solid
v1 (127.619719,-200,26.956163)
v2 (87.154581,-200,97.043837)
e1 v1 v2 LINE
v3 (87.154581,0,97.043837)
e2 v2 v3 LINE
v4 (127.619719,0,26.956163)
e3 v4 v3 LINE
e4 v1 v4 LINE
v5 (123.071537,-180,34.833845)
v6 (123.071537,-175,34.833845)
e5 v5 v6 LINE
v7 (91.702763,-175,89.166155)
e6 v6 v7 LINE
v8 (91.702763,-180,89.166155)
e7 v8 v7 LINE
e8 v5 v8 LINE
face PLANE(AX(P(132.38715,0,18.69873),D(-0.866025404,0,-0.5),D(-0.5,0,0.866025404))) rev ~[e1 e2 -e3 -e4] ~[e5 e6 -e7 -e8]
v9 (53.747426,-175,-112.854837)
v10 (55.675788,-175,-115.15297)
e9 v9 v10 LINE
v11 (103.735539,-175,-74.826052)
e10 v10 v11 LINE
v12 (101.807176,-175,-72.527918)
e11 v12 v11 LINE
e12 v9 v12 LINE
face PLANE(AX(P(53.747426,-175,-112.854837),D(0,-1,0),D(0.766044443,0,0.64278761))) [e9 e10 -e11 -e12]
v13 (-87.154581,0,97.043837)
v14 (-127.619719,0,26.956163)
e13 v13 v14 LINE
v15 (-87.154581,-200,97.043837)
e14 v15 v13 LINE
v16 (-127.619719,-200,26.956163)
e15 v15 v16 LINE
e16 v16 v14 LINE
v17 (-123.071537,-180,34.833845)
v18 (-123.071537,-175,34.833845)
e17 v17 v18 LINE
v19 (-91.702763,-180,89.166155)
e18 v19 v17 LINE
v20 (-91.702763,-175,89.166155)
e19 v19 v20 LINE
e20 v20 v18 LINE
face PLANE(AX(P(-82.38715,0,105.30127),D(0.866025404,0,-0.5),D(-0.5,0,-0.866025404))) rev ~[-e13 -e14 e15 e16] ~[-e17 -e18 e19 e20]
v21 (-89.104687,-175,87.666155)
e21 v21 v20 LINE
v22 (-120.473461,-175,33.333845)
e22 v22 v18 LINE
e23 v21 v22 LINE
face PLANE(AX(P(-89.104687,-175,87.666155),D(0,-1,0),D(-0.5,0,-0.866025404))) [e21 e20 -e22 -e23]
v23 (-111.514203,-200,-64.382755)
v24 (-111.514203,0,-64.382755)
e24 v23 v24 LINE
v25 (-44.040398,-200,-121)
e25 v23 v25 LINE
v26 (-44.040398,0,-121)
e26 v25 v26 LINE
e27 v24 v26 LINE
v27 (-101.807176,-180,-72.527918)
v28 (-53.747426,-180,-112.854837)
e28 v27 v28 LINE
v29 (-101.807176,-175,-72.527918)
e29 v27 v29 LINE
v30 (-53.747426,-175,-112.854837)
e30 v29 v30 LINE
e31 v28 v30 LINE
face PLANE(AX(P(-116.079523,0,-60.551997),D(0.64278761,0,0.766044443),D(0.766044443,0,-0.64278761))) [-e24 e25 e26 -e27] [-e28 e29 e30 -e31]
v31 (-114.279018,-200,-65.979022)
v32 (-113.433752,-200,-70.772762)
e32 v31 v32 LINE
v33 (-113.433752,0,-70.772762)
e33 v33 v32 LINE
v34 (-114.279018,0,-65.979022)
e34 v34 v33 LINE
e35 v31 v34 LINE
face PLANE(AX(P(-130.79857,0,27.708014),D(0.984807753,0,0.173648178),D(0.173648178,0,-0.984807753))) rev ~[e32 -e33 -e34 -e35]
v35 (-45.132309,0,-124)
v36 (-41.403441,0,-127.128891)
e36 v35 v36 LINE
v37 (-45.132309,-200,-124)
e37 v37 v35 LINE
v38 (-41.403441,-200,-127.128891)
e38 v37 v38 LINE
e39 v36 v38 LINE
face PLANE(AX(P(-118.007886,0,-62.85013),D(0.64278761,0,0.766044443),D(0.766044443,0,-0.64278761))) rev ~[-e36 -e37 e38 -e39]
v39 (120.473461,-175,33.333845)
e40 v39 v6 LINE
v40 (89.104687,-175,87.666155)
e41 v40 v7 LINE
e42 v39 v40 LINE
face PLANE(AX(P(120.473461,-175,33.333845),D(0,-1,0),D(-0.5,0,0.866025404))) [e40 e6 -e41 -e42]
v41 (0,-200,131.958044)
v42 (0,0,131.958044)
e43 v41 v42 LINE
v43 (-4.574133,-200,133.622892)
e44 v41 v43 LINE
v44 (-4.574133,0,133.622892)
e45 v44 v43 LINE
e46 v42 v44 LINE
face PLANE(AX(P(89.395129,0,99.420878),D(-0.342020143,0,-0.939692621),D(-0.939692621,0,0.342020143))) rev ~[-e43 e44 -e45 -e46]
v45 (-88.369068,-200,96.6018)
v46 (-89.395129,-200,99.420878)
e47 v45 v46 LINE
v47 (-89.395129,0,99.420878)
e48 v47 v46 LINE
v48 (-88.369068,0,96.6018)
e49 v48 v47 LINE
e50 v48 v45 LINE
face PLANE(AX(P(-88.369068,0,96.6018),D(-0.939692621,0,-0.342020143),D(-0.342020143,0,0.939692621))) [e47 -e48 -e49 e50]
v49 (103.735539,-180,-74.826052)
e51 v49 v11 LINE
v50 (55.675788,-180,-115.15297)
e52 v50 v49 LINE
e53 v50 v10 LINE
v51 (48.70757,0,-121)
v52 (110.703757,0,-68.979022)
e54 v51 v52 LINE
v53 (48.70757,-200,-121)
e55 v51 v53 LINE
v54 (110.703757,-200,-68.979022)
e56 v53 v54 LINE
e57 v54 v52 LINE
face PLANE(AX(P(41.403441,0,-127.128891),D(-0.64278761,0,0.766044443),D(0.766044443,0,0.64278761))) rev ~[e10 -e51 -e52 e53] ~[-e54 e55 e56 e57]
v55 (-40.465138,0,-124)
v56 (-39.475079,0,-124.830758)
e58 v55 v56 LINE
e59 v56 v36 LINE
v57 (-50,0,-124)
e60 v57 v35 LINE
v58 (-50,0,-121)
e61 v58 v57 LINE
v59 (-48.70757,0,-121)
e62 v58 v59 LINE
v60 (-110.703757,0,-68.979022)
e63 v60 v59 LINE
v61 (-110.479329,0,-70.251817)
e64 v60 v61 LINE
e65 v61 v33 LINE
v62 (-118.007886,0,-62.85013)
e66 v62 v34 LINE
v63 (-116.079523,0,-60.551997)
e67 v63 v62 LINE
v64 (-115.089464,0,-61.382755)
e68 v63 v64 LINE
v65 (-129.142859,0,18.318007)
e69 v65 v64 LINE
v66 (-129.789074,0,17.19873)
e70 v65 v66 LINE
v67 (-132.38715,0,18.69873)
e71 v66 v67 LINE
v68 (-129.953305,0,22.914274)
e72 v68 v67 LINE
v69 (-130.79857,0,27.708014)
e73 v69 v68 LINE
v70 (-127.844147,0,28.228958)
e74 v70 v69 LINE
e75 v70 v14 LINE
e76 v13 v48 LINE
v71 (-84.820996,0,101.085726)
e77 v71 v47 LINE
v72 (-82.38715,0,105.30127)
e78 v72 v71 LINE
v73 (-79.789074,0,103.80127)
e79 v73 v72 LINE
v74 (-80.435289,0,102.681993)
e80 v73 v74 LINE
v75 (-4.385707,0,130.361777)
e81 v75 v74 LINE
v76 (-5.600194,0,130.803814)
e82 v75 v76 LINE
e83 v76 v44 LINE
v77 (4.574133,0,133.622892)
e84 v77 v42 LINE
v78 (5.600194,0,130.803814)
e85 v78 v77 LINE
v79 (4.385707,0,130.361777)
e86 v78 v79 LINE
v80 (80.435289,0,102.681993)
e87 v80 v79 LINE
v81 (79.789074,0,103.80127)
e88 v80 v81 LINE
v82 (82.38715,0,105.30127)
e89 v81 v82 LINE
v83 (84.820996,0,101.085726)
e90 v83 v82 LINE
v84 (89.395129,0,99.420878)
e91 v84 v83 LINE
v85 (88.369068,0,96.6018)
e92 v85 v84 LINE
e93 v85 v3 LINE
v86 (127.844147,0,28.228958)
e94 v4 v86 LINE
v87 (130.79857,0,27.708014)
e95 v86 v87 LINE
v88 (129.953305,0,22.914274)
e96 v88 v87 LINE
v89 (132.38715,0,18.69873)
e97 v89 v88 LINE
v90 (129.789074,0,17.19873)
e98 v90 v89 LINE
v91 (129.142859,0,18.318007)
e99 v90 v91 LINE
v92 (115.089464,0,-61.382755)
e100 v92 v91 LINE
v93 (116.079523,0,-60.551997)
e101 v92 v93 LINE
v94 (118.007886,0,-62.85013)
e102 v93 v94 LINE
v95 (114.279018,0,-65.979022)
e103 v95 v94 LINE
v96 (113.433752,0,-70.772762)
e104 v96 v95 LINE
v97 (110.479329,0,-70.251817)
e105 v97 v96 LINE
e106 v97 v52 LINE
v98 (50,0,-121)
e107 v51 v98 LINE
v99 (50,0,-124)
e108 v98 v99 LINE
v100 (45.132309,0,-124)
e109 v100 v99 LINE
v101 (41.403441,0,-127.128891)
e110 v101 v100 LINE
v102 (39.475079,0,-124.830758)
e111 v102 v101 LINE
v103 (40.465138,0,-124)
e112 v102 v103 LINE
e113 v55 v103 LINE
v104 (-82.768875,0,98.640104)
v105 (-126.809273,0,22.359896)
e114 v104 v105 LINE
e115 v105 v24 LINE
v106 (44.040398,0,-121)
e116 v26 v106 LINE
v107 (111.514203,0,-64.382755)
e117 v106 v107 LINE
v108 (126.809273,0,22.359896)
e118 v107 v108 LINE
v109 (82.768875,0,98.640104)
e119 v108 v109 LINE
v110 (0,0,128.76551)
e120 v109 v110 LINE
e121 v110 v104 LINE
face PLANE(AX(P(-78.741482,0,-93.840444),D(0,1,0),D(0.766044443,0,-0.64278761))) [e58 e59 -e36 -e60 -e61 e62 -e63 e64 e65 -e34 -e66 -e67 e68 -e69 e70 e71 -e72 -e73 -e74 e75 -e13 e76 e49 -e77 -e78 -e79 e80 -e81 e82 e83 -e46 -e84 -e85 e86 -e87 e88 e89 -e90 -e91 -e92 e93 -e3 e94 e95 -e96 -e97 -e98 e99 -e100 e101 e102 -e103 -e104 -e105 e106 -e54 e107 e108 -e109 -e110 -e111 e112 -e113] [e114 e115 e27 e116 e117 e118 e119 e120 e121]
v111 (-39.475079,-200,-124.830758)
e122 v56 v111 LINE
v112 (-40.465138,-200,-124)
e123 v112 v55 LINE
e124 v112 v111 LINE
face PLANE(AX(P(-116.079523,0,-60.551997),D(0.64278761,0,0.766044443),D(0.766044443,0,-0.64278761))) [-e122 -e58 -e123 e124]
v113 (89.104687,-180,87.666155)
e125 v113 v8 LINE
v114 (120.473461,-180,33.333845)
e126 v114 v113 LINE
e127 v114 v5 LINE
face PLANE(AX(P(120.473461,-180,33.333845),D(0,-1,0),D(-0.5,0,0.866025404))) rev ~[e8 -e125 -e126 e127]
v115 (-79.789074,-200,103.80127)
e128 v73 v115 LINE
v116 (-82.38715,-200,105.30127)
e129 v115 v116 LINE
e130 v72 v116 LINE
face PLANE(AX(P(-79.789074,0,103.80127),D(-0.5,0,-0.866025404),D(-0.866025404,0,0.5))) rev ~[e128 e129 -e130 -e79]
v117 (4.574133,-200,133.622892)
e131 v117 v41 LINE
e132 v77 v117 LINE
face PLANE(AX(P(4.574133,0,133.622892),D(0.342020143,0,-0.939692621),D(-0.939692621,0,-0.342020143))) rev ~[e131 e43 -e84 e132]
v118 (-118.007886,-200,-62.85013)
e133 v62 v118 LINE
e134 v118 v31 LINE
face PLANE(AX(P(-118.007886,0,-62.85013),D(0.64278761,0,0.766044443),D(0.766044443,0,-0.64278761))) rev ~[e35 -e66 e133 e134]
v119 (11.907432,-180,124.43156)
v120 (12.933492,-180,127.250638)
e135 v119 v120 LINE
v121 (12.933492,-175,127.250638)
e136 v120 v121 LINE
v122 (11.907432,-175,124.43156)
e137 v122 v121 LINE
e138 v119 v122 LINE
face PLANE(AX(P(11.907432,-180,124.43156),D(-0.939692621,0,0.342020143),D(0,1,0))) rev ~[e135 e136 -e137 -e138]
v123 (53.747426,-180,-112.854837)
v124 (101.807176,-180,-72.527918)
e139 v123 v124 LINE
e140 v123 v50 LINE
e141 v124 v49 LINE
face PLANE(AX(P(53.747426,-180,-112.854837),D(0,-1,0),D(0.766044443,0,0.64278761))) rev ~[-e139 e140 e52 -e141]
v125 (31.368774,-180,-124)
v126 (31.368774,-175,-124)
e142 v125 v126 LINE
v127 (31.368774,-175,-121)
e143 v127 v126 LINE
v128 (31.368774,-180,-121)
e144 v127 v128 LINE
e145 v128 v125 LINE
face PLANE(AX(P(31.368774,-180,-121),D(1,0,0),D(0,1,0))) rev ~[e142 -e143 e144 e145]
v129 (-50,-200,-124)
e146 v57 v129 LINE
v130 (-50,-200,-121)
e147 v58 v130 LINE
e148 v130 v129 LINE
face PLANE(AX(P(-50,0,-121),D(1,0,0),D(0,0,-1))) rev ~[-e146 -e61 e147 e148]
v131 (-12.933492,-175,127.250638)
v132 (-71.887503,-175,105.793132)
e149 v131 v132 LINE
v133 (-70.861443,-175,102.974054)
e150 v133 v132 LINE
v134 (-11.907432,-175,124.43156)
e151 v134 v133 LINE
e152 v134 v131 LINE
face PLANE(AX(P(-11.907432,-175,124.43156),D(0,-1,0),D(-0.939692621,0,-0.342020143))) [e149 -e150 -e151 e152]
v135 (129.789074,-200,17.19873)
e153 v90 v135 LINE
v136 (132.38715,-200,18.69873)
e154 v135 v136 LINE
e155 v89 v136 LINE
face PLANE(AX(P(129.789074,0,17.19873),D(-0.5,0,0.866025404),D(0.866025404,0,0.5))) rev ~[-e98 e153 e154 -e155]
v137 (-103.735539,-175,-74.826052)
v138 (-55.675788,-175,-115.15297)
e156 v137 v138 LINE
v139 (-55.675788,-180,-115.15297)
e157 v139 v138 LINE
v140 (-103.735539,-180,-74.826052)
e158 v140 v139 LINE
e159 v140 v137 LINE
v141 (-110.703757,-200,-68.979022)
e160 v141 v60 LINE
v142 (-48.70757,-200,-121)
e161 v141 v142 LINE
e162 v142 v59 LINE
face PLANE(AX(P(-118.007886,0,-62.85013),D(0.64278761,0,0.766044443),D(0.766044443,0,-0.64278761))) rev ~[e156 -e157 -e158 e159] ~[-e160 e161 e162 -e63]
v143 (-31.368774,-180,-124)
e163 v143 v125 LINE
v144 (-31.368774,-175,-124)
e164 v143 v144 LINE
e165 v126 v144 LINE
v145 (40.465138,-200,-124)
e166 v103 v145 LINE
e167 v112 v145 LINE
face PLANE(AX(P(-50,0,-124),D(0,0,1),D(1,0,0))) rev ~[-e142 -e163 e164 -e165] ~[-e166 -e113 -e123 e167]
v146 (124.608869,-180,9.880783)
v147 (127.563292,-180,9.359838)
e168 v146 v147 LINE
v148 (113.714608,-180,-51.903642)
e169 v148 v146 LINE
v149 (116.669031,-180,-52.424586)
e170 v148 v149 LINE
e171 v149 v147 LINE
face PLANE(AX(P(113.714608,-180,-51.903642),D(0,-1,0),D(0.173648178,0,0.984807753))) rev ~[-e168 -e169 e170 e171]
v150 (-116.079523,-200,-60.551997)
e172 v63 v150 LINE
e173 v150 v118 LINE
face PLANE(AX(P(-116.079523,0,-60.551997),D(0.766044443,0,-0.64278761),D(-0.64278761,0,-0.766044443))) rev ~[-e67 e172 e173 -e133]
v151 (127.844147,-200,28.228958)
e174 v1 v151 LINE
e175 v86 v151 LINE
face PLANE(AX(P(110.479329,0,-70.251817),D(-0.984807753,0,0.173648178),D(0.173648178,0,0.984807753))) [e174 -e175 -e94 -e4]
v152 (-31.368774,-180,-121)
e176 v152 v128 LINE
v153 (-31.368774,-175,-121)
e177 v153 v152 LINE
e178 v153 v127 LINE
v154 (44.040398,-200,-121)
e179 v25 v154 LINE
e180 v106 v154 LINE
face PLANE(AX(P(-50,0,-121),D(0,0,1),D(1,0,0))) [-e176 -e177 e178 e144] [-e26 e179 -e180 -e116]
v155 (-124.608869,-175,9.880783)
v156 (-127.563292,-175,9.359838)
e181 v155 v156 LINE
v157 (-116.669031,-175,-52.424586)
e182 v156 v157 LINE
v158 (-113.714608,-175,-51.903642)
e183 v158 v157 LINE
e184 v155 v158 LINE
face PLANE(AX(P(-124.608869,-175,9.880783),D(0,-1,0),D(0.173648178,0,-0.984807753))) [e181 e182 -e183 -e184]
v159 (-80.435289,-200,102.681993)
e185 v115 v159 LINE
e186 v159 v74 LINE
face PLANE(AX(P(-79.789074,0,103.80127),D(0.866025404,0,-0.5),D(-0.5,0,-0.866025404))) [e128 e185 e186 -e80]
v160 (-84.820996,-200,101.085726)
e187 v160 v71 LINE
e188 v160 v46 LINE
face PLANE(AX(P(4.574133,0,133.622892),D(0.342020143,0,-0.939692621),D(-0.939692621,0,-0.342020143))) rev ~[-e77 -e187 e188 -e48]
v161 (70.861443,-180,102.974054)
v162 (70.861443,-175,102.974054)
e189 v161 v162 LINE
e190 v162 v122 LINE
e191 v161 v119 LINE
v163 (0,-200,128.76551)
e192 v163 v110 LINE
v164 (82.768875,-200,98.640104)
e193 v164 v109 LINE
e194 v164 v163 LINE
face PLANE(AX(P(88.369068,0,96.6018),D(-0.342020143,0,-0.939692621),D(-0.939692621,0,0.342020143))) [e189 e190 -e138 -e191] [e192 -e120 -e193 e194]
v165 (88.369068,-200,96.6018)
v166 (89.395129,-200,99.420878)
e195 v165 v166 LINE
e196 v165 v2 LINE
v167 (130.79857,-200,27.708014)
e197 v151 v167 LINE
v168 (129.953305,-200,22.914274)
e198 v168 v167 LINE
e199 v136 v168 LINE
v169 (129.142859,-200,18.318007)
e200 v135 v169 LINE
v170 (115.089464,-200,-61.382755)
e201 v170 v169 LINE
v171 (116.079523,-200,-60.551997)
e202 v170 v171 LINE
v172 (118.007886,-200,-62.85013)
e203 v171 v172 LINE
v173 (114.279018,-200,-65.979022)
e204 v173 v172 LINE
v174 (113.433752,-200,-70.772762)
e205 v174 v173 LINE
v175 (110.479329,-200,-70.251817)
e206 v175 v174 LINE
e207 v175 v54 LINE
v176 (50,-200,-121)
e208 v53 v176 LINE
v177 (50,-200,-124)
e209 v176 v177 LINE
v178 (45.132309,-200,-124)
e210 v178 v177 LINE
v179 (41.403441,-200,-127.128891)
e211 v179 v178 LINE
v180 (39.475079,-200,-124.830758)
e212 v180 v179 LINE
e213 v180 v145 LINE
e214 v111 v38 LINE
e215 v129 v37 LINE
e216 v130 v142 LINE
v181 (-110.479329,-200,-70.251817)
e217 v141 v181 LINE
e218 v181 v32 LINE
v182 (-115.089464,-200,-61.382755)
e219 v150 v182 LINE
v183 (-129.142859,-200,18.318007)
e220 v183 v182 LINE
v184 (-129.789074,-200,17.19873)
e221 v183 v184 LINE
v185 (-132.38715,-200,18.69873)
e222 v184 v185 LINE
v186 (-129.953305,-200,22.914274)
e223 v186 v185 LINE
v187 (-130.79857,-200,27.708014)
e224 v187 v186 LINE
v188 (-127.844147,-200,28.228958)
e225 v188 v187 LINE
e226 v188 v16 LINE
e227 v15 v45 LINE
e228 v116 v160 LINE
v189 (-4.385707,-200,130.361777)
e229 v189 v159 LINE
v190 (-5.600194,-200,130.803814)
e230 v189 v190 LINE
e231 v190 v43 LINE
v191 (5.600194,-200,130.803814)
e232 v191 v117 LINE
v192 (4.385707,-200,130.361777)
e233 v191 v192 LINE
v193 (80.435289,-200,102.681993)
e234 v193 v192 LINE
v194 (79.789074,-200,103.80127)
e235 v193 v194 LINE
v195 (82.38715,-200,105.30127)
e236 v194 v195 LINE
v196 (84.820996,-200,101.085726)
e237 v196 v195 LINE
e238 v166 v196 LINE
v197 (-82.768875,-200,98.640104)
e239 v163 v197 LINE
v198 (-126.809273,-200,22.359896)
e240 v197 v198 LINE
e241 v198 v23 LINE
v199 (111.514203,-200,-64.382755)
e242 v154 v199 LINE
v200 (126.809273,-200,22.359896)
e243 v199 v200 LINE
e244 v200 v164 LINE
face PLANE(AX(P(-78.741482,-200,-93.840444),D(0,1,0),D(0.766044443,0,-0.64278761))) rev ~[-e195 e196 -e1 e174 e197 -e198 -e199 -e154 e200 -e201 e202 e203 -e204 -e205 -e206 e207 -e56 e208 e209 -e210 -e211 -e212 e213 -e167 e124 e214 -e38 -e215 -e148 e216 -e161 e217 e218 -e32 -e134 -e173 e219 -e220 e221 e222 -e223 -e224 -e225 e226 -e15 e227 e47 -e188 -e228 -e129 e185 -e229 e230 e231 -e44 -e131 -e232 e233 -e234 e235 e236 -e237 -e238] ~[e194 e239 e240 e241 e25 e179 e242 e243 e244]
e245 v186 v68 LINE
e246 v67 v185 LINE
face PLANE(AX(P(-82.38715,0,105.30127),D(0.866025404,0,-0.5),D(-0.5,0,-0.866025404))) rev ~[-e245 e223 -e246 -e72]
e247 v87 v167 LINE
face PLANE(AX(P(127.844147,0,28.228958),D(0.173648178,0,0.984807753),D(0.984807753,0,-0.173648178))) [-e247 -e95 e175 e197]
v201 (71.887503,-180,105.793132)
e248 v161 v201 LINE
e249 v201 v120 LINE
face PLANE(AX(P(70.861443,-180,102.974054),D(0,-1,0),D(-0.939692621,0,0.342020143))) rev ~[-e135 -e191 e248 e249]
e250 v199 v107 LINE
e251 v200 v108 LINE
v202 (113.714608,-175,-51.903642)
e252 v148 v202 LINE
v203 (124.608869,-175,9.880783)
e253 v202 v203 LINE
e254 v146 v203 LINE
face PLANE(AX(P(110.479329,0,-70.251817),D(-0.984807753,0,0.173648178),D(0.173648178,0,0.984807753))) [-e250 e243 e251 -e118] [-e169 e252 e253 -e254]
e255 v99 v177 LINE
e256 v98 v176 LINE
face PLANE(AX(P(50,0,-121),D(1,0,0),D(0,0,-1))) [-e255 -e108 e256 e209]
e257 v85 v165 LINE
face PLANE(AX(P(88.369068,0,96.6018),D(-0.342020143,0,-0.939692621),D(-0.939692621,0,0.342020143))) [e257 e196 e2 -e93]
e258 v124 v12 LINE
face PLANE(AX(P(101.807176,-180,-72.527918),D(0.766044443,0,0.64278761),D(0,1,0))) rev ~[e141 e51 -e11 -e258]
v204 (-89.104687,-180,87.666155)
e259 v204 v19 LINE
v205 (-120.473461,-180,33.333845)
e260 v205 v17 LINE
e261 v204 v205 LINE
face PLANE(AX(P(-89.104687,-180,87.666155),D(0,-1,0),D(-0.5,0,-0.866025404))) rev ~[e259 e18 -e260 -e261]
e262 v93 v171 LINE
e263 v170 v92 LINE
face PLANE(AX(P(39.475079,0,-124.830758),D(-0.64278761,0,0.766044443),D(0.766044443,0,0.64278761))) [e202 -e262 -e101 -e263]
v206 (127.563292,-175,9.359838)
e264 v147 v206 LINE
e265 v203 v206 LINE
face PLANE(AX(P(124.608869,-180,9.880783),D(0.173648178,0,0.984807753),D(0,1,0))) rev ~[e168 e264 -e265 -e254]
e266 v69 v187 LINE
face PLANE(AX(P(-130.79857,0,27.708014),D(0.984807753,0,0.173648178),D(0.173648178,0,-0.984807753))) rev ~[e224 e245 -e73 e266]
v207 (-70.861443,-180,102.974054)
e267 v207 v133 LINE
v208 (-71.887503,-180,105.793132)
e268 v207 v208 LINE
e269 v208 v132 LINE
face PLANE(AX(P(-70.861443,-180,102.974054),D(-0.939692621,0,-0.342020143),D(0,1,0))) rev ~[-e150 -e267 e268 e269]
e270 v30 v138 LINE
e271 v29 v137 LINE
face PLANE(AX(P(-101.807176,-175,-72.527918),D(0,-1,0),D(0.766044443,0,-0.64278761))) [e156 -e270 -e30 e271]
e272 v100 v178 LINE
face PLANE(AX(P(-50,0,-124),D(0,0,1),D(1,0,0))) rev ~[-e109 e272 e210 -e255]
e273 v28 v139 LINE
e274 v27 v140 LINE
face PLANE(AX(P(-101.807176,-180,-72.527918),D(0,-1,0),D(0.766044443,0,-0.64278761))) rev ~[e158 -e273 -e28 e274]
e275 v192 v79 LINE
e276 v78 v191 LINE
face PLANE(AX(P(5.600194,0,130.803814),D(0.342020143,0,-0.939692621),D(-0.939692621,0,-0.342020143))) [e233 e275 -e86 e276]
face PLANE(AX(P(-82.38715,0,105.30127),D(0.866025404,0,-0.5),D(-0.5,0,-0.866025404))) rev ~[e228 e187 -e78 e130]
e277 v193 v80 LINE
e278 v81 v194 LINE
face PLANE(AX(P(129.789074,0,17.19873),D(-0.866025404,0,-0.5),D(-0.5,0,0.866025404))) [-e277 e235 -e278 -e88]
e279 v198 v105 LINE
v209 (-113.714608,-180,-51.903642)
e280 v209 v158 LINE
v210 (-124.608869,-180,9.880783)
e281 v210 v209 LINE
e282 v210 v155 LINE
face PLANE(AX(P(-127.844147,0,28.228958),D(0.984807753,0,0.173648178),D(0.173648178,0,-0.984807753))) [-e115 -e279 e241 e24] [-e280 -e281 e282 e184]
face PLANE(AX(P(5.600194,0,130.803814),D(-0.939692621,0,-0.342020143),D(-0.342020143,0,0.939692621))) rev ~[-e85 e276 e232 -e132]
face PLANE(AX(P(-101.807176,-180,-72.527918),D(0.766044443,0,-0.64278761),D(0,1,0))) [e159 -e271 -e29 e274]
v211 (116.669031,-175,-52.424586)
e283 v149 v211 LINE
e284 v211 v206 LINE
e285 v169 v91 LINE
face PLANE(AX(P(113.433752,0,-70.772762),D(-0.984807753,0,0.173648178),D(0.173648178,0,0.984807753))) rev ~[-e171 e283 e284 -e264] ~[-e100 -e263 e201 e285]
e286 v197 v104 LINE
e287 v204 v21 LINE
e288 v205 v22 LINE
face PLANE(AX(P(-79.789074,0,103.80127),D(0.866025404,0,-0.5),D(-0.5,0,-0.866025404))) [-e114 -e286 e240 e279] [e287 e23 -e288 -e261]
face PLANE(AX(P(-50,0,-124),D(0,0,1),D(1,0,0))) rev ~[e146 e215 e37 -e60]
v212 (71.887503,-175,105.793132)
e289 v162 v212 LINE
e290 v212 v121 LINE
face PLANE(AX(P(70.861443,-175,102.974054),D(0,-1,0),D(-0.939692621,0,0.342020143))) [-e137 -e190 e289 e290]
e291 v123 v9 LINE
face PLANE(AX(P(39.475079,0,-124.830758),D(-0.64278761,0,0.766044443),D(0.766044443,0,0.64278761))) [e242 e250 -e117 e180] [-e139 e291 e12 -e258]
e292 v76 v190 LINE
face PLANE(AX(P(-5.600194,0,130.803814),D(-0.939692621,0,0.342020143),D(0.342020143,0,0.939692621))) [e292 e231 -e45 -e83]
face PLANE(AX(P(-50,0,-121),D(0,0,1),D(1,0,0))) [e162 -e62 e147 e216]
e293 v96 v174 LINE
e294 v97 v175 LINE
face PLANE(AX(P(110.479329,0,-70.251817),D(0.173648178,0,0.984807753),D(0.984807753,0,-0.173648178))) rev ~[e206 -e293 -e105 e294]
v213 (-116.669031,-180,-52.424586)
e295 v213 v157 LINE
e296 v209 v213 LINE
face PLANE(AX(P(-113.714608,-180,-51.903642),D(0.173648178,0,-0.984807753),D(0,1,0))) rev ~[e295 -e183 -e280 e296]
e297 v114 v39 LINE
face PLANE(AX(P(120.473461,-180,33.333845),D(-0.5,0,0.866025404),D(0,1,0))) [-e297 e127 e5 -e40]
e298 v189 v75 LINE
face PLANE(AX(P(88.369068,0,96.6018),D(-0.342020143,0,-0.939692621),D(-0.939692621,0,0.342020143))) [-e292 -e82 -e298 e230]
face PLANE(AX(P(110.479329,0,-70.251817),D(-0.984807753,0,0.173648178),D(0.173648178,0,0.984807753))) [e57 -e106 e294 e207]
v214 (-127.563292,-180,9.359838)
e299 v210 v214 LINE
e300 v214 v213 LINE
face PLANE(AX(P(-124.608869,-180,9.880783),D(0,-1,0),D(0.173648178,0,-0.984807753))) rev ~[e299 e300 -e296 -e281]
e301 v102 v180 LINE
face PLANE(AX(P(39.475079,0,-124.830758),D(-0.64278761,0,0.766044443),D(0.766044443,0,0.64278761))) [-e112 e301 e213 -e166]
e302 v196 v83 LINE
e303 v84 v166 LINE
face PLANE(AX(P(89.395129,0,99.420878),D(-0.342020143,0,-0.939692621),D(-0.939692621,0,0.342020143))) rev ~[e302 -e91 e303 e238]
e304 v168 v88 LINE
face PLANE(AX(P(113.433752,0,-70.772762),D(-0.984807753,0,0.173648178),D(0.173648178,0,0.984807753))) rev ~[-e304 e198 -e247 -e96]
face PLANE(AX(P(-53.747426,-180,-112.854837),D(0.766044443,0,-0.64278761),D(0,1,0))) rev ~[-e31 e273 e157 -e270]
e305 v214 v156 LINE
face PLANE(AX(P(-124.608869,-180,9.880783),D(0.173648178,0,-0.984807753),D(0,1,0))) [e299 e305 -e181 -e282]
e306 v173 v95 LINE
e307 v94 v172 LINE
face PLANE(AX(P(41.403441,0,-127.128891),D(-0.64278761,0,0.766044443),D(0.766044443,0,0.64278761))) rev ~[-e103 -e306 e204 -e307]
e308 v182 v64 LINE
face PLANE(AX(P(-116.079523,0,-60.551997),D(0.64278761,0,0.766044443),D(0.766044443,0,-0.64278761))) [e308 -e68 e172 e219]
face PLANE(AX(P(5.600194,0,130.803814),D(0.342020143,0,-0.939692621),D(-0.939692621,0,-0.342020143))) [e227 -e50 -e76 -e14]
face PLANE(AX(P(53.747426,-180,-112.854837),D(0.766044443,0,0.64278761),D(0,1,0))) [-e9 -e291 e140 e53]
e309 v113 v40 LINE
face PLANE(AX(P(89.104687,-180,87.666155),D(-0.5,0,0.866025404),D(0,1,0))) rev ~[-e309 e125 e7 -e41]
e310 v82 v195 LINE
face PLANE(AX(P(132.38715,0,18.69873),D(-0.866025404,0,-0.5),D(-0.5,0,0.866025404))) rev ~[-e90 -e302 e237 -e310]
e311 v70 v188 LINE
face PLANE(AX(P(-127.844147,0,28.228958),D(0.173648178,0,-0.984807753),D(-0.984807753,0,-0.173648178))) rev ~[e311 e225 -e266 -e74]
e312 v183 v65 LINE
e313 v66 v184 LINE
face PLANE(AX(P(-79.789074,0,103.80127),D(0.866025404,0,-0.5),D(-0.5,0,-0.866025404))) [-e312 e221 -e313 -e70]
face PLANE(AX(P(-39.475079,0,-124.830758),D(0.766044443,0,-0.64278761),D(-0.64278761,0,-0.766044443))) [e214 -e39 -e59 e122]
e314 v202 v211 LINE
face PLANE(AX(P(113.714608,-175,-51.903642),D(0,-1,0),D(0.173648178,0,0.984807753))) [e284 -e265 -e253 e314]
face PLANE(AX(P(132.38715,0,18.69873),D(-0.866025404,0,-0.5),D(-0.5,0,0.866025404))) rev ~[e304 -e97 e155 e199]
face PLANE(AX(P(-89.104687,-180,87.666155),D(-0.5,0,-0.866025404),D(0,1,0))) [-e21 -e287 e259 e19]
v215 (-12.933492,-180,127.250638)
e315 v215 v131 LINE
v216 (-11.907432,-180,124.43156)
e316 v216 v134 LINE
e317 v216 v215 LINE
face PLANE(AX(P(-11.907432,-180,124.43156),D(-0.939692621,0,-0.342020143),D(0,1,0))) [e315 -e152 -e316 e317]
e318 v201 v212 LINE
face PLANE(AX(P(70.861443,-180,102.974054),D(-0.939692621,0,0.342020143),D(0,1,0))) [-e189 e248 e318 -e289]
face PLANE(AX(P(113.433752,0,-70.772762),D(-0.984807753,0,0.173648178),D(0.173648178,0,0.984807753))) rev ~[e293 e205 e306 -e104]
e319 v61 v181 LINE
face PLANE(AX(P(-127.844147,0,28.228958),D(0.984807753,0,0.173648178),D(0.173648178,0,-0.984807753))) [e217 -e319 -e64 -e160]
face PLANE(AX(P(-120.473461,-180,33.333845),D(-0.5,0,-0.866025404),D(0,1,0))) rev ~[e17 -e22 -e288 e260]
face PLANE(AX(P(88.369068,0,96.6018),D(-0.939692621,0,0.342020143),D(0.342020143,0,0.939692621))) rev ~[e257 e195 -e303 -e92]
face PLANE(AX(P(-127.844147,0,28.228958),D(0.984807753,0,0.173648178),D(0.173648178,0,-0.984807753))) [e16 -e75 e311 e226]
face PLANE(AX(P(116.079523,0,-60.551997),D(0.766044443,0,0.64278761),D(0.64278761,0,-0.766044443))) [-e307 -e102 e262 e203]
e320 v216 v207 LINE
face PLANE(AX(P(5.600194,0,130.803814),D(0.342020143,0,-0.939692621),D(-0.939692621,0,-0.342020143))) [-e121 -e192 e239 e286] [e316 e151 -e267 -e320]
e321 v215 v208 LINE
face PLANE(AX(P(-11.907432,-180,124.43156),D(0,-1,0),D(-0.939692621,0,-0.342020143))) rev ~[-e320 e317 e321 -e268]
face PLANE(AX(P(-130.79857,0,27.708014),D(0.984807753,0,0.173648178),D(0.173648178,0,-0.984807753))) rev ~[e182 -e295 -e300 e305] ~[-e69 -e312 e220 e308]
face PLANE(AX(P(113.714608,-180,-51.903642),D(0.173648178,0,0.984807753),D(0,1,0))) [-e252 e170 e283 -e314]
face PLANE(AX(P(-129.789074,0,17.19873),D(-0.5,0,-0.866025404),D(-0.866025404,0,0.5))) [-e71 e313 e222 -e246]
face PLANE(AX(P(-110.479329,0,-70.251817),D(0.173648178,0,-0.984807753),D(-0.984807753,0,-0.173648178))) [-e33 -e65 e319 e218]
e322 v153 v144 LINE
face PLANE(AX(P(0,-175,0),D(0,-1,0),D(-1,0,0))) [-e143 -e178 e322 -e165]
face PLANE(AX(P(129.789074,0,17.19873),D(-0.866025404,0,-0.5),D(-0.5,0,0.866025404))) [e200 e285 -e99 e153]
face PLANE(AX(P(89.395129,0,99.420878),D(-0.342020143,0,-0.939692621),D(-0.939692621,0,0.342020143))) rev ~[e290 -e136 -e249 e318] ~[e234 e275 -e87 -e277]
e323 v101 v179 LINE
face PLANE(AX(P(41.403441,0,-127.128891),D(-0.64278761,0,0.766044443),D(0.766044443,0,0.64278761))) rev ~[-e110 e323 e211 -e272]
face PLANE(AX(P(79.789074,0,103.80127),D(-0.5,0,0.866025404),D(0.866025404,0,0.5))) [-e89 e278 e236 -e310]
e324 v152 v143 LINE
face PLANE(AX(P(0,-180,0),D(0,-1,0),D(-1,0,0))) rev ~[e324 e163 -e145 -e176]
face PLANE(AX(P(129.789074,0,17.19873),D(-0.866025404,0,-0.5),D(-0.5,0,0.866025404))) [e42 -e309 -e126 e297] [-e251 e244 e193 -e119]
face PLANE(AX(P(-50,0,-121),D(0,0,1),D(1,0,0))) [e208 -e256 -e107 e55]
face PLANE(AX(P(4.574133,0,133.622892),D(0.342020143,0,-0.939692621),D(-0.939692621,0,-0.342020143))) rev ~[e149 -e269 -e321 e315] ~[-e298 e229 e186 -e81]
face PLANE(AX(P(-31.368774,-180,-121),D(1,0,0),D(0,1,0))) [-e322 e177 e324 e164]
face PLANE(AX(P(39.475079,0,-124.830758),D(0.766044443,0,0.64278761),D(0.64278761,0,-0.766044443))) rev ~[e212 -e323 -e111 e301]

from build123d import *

# Parameters (mm, degrees)
SKETCH_3_W               = 100
SKETCH_3_H               = 3
EXTRUDE_2_DEPTH          = 200
SKETCH_4_R               = 125
CUT_EXTRUDE_3_DEPTH      = 5
SKETCH_5_W               = 62.737548566
SKETCH_5_H               = 5
CUT_EXTRUDE_4_DEPTH      = 207.177108332
PATTERN_CIRCULAR_1_COUNT = 9


with BuildPart() as part:
    # 草圖3 → 填料-伸長2 (new body)
    with BuildSketch(Plane(origin=(0, 0, 0), x_dir=(1, 0, 0), z_dir=(0, 1, 0))):
        with Locations((0, 122.5)):
            Rectangle(SKETCH_3_W, SKETCH_3_H)
    extrude_2 = extrude(amount=-EXTRUDE_2_DEPTH)

    # 草圖4 → 除料-伸長3 (cut)
    with BuildSketch(Plane(origin=(0, -180, 0), x_dir=(-1, 0, 0), z_dir=(0, -1, 0))):
        Circle(SKETCH_4_R)
    extrude(amount=-CUT_EXTRUDE_3_DEPTH, mode=Mode.SUBTRACT)

    # 草圖5 → 除料-伸長4 (cut, through all)
    with BuildSketch(Plane.XY.offset(-121)):
        with Locations((0, -177.5)):
            Rectangle(SKETCH_5_W, SKETCH_5_H)
    cut_extrude_4 = extrude(amount=-CUT_EXTRUDE_4_DEPTH, mode=Mode.SUBTRACT)

    # 環狀複製排列1: 填料-伸長2, 除料-伸長4 ×9 about axis
    pattern_circular_1_axis = Axis((0, 0, 0), (0, 1, 0))
    add([extrude_2.rotate(pattern_circular_1_axis, i * 360 / PATTERN_CIRCULAR_1_COUNT) for i in range(1, PATTERN_CIRCULAR_1_COUNT)])
    add([cut_extrude_4.rotate(pattern_circular_1_axis, i * 360 / PATTERN_CIRCULAR_1_COUNT) for i in range(1, PATTERN_CIRCULAR_1_COUNT)], mode=Mode.SUBTRACT)


solid = part.part
